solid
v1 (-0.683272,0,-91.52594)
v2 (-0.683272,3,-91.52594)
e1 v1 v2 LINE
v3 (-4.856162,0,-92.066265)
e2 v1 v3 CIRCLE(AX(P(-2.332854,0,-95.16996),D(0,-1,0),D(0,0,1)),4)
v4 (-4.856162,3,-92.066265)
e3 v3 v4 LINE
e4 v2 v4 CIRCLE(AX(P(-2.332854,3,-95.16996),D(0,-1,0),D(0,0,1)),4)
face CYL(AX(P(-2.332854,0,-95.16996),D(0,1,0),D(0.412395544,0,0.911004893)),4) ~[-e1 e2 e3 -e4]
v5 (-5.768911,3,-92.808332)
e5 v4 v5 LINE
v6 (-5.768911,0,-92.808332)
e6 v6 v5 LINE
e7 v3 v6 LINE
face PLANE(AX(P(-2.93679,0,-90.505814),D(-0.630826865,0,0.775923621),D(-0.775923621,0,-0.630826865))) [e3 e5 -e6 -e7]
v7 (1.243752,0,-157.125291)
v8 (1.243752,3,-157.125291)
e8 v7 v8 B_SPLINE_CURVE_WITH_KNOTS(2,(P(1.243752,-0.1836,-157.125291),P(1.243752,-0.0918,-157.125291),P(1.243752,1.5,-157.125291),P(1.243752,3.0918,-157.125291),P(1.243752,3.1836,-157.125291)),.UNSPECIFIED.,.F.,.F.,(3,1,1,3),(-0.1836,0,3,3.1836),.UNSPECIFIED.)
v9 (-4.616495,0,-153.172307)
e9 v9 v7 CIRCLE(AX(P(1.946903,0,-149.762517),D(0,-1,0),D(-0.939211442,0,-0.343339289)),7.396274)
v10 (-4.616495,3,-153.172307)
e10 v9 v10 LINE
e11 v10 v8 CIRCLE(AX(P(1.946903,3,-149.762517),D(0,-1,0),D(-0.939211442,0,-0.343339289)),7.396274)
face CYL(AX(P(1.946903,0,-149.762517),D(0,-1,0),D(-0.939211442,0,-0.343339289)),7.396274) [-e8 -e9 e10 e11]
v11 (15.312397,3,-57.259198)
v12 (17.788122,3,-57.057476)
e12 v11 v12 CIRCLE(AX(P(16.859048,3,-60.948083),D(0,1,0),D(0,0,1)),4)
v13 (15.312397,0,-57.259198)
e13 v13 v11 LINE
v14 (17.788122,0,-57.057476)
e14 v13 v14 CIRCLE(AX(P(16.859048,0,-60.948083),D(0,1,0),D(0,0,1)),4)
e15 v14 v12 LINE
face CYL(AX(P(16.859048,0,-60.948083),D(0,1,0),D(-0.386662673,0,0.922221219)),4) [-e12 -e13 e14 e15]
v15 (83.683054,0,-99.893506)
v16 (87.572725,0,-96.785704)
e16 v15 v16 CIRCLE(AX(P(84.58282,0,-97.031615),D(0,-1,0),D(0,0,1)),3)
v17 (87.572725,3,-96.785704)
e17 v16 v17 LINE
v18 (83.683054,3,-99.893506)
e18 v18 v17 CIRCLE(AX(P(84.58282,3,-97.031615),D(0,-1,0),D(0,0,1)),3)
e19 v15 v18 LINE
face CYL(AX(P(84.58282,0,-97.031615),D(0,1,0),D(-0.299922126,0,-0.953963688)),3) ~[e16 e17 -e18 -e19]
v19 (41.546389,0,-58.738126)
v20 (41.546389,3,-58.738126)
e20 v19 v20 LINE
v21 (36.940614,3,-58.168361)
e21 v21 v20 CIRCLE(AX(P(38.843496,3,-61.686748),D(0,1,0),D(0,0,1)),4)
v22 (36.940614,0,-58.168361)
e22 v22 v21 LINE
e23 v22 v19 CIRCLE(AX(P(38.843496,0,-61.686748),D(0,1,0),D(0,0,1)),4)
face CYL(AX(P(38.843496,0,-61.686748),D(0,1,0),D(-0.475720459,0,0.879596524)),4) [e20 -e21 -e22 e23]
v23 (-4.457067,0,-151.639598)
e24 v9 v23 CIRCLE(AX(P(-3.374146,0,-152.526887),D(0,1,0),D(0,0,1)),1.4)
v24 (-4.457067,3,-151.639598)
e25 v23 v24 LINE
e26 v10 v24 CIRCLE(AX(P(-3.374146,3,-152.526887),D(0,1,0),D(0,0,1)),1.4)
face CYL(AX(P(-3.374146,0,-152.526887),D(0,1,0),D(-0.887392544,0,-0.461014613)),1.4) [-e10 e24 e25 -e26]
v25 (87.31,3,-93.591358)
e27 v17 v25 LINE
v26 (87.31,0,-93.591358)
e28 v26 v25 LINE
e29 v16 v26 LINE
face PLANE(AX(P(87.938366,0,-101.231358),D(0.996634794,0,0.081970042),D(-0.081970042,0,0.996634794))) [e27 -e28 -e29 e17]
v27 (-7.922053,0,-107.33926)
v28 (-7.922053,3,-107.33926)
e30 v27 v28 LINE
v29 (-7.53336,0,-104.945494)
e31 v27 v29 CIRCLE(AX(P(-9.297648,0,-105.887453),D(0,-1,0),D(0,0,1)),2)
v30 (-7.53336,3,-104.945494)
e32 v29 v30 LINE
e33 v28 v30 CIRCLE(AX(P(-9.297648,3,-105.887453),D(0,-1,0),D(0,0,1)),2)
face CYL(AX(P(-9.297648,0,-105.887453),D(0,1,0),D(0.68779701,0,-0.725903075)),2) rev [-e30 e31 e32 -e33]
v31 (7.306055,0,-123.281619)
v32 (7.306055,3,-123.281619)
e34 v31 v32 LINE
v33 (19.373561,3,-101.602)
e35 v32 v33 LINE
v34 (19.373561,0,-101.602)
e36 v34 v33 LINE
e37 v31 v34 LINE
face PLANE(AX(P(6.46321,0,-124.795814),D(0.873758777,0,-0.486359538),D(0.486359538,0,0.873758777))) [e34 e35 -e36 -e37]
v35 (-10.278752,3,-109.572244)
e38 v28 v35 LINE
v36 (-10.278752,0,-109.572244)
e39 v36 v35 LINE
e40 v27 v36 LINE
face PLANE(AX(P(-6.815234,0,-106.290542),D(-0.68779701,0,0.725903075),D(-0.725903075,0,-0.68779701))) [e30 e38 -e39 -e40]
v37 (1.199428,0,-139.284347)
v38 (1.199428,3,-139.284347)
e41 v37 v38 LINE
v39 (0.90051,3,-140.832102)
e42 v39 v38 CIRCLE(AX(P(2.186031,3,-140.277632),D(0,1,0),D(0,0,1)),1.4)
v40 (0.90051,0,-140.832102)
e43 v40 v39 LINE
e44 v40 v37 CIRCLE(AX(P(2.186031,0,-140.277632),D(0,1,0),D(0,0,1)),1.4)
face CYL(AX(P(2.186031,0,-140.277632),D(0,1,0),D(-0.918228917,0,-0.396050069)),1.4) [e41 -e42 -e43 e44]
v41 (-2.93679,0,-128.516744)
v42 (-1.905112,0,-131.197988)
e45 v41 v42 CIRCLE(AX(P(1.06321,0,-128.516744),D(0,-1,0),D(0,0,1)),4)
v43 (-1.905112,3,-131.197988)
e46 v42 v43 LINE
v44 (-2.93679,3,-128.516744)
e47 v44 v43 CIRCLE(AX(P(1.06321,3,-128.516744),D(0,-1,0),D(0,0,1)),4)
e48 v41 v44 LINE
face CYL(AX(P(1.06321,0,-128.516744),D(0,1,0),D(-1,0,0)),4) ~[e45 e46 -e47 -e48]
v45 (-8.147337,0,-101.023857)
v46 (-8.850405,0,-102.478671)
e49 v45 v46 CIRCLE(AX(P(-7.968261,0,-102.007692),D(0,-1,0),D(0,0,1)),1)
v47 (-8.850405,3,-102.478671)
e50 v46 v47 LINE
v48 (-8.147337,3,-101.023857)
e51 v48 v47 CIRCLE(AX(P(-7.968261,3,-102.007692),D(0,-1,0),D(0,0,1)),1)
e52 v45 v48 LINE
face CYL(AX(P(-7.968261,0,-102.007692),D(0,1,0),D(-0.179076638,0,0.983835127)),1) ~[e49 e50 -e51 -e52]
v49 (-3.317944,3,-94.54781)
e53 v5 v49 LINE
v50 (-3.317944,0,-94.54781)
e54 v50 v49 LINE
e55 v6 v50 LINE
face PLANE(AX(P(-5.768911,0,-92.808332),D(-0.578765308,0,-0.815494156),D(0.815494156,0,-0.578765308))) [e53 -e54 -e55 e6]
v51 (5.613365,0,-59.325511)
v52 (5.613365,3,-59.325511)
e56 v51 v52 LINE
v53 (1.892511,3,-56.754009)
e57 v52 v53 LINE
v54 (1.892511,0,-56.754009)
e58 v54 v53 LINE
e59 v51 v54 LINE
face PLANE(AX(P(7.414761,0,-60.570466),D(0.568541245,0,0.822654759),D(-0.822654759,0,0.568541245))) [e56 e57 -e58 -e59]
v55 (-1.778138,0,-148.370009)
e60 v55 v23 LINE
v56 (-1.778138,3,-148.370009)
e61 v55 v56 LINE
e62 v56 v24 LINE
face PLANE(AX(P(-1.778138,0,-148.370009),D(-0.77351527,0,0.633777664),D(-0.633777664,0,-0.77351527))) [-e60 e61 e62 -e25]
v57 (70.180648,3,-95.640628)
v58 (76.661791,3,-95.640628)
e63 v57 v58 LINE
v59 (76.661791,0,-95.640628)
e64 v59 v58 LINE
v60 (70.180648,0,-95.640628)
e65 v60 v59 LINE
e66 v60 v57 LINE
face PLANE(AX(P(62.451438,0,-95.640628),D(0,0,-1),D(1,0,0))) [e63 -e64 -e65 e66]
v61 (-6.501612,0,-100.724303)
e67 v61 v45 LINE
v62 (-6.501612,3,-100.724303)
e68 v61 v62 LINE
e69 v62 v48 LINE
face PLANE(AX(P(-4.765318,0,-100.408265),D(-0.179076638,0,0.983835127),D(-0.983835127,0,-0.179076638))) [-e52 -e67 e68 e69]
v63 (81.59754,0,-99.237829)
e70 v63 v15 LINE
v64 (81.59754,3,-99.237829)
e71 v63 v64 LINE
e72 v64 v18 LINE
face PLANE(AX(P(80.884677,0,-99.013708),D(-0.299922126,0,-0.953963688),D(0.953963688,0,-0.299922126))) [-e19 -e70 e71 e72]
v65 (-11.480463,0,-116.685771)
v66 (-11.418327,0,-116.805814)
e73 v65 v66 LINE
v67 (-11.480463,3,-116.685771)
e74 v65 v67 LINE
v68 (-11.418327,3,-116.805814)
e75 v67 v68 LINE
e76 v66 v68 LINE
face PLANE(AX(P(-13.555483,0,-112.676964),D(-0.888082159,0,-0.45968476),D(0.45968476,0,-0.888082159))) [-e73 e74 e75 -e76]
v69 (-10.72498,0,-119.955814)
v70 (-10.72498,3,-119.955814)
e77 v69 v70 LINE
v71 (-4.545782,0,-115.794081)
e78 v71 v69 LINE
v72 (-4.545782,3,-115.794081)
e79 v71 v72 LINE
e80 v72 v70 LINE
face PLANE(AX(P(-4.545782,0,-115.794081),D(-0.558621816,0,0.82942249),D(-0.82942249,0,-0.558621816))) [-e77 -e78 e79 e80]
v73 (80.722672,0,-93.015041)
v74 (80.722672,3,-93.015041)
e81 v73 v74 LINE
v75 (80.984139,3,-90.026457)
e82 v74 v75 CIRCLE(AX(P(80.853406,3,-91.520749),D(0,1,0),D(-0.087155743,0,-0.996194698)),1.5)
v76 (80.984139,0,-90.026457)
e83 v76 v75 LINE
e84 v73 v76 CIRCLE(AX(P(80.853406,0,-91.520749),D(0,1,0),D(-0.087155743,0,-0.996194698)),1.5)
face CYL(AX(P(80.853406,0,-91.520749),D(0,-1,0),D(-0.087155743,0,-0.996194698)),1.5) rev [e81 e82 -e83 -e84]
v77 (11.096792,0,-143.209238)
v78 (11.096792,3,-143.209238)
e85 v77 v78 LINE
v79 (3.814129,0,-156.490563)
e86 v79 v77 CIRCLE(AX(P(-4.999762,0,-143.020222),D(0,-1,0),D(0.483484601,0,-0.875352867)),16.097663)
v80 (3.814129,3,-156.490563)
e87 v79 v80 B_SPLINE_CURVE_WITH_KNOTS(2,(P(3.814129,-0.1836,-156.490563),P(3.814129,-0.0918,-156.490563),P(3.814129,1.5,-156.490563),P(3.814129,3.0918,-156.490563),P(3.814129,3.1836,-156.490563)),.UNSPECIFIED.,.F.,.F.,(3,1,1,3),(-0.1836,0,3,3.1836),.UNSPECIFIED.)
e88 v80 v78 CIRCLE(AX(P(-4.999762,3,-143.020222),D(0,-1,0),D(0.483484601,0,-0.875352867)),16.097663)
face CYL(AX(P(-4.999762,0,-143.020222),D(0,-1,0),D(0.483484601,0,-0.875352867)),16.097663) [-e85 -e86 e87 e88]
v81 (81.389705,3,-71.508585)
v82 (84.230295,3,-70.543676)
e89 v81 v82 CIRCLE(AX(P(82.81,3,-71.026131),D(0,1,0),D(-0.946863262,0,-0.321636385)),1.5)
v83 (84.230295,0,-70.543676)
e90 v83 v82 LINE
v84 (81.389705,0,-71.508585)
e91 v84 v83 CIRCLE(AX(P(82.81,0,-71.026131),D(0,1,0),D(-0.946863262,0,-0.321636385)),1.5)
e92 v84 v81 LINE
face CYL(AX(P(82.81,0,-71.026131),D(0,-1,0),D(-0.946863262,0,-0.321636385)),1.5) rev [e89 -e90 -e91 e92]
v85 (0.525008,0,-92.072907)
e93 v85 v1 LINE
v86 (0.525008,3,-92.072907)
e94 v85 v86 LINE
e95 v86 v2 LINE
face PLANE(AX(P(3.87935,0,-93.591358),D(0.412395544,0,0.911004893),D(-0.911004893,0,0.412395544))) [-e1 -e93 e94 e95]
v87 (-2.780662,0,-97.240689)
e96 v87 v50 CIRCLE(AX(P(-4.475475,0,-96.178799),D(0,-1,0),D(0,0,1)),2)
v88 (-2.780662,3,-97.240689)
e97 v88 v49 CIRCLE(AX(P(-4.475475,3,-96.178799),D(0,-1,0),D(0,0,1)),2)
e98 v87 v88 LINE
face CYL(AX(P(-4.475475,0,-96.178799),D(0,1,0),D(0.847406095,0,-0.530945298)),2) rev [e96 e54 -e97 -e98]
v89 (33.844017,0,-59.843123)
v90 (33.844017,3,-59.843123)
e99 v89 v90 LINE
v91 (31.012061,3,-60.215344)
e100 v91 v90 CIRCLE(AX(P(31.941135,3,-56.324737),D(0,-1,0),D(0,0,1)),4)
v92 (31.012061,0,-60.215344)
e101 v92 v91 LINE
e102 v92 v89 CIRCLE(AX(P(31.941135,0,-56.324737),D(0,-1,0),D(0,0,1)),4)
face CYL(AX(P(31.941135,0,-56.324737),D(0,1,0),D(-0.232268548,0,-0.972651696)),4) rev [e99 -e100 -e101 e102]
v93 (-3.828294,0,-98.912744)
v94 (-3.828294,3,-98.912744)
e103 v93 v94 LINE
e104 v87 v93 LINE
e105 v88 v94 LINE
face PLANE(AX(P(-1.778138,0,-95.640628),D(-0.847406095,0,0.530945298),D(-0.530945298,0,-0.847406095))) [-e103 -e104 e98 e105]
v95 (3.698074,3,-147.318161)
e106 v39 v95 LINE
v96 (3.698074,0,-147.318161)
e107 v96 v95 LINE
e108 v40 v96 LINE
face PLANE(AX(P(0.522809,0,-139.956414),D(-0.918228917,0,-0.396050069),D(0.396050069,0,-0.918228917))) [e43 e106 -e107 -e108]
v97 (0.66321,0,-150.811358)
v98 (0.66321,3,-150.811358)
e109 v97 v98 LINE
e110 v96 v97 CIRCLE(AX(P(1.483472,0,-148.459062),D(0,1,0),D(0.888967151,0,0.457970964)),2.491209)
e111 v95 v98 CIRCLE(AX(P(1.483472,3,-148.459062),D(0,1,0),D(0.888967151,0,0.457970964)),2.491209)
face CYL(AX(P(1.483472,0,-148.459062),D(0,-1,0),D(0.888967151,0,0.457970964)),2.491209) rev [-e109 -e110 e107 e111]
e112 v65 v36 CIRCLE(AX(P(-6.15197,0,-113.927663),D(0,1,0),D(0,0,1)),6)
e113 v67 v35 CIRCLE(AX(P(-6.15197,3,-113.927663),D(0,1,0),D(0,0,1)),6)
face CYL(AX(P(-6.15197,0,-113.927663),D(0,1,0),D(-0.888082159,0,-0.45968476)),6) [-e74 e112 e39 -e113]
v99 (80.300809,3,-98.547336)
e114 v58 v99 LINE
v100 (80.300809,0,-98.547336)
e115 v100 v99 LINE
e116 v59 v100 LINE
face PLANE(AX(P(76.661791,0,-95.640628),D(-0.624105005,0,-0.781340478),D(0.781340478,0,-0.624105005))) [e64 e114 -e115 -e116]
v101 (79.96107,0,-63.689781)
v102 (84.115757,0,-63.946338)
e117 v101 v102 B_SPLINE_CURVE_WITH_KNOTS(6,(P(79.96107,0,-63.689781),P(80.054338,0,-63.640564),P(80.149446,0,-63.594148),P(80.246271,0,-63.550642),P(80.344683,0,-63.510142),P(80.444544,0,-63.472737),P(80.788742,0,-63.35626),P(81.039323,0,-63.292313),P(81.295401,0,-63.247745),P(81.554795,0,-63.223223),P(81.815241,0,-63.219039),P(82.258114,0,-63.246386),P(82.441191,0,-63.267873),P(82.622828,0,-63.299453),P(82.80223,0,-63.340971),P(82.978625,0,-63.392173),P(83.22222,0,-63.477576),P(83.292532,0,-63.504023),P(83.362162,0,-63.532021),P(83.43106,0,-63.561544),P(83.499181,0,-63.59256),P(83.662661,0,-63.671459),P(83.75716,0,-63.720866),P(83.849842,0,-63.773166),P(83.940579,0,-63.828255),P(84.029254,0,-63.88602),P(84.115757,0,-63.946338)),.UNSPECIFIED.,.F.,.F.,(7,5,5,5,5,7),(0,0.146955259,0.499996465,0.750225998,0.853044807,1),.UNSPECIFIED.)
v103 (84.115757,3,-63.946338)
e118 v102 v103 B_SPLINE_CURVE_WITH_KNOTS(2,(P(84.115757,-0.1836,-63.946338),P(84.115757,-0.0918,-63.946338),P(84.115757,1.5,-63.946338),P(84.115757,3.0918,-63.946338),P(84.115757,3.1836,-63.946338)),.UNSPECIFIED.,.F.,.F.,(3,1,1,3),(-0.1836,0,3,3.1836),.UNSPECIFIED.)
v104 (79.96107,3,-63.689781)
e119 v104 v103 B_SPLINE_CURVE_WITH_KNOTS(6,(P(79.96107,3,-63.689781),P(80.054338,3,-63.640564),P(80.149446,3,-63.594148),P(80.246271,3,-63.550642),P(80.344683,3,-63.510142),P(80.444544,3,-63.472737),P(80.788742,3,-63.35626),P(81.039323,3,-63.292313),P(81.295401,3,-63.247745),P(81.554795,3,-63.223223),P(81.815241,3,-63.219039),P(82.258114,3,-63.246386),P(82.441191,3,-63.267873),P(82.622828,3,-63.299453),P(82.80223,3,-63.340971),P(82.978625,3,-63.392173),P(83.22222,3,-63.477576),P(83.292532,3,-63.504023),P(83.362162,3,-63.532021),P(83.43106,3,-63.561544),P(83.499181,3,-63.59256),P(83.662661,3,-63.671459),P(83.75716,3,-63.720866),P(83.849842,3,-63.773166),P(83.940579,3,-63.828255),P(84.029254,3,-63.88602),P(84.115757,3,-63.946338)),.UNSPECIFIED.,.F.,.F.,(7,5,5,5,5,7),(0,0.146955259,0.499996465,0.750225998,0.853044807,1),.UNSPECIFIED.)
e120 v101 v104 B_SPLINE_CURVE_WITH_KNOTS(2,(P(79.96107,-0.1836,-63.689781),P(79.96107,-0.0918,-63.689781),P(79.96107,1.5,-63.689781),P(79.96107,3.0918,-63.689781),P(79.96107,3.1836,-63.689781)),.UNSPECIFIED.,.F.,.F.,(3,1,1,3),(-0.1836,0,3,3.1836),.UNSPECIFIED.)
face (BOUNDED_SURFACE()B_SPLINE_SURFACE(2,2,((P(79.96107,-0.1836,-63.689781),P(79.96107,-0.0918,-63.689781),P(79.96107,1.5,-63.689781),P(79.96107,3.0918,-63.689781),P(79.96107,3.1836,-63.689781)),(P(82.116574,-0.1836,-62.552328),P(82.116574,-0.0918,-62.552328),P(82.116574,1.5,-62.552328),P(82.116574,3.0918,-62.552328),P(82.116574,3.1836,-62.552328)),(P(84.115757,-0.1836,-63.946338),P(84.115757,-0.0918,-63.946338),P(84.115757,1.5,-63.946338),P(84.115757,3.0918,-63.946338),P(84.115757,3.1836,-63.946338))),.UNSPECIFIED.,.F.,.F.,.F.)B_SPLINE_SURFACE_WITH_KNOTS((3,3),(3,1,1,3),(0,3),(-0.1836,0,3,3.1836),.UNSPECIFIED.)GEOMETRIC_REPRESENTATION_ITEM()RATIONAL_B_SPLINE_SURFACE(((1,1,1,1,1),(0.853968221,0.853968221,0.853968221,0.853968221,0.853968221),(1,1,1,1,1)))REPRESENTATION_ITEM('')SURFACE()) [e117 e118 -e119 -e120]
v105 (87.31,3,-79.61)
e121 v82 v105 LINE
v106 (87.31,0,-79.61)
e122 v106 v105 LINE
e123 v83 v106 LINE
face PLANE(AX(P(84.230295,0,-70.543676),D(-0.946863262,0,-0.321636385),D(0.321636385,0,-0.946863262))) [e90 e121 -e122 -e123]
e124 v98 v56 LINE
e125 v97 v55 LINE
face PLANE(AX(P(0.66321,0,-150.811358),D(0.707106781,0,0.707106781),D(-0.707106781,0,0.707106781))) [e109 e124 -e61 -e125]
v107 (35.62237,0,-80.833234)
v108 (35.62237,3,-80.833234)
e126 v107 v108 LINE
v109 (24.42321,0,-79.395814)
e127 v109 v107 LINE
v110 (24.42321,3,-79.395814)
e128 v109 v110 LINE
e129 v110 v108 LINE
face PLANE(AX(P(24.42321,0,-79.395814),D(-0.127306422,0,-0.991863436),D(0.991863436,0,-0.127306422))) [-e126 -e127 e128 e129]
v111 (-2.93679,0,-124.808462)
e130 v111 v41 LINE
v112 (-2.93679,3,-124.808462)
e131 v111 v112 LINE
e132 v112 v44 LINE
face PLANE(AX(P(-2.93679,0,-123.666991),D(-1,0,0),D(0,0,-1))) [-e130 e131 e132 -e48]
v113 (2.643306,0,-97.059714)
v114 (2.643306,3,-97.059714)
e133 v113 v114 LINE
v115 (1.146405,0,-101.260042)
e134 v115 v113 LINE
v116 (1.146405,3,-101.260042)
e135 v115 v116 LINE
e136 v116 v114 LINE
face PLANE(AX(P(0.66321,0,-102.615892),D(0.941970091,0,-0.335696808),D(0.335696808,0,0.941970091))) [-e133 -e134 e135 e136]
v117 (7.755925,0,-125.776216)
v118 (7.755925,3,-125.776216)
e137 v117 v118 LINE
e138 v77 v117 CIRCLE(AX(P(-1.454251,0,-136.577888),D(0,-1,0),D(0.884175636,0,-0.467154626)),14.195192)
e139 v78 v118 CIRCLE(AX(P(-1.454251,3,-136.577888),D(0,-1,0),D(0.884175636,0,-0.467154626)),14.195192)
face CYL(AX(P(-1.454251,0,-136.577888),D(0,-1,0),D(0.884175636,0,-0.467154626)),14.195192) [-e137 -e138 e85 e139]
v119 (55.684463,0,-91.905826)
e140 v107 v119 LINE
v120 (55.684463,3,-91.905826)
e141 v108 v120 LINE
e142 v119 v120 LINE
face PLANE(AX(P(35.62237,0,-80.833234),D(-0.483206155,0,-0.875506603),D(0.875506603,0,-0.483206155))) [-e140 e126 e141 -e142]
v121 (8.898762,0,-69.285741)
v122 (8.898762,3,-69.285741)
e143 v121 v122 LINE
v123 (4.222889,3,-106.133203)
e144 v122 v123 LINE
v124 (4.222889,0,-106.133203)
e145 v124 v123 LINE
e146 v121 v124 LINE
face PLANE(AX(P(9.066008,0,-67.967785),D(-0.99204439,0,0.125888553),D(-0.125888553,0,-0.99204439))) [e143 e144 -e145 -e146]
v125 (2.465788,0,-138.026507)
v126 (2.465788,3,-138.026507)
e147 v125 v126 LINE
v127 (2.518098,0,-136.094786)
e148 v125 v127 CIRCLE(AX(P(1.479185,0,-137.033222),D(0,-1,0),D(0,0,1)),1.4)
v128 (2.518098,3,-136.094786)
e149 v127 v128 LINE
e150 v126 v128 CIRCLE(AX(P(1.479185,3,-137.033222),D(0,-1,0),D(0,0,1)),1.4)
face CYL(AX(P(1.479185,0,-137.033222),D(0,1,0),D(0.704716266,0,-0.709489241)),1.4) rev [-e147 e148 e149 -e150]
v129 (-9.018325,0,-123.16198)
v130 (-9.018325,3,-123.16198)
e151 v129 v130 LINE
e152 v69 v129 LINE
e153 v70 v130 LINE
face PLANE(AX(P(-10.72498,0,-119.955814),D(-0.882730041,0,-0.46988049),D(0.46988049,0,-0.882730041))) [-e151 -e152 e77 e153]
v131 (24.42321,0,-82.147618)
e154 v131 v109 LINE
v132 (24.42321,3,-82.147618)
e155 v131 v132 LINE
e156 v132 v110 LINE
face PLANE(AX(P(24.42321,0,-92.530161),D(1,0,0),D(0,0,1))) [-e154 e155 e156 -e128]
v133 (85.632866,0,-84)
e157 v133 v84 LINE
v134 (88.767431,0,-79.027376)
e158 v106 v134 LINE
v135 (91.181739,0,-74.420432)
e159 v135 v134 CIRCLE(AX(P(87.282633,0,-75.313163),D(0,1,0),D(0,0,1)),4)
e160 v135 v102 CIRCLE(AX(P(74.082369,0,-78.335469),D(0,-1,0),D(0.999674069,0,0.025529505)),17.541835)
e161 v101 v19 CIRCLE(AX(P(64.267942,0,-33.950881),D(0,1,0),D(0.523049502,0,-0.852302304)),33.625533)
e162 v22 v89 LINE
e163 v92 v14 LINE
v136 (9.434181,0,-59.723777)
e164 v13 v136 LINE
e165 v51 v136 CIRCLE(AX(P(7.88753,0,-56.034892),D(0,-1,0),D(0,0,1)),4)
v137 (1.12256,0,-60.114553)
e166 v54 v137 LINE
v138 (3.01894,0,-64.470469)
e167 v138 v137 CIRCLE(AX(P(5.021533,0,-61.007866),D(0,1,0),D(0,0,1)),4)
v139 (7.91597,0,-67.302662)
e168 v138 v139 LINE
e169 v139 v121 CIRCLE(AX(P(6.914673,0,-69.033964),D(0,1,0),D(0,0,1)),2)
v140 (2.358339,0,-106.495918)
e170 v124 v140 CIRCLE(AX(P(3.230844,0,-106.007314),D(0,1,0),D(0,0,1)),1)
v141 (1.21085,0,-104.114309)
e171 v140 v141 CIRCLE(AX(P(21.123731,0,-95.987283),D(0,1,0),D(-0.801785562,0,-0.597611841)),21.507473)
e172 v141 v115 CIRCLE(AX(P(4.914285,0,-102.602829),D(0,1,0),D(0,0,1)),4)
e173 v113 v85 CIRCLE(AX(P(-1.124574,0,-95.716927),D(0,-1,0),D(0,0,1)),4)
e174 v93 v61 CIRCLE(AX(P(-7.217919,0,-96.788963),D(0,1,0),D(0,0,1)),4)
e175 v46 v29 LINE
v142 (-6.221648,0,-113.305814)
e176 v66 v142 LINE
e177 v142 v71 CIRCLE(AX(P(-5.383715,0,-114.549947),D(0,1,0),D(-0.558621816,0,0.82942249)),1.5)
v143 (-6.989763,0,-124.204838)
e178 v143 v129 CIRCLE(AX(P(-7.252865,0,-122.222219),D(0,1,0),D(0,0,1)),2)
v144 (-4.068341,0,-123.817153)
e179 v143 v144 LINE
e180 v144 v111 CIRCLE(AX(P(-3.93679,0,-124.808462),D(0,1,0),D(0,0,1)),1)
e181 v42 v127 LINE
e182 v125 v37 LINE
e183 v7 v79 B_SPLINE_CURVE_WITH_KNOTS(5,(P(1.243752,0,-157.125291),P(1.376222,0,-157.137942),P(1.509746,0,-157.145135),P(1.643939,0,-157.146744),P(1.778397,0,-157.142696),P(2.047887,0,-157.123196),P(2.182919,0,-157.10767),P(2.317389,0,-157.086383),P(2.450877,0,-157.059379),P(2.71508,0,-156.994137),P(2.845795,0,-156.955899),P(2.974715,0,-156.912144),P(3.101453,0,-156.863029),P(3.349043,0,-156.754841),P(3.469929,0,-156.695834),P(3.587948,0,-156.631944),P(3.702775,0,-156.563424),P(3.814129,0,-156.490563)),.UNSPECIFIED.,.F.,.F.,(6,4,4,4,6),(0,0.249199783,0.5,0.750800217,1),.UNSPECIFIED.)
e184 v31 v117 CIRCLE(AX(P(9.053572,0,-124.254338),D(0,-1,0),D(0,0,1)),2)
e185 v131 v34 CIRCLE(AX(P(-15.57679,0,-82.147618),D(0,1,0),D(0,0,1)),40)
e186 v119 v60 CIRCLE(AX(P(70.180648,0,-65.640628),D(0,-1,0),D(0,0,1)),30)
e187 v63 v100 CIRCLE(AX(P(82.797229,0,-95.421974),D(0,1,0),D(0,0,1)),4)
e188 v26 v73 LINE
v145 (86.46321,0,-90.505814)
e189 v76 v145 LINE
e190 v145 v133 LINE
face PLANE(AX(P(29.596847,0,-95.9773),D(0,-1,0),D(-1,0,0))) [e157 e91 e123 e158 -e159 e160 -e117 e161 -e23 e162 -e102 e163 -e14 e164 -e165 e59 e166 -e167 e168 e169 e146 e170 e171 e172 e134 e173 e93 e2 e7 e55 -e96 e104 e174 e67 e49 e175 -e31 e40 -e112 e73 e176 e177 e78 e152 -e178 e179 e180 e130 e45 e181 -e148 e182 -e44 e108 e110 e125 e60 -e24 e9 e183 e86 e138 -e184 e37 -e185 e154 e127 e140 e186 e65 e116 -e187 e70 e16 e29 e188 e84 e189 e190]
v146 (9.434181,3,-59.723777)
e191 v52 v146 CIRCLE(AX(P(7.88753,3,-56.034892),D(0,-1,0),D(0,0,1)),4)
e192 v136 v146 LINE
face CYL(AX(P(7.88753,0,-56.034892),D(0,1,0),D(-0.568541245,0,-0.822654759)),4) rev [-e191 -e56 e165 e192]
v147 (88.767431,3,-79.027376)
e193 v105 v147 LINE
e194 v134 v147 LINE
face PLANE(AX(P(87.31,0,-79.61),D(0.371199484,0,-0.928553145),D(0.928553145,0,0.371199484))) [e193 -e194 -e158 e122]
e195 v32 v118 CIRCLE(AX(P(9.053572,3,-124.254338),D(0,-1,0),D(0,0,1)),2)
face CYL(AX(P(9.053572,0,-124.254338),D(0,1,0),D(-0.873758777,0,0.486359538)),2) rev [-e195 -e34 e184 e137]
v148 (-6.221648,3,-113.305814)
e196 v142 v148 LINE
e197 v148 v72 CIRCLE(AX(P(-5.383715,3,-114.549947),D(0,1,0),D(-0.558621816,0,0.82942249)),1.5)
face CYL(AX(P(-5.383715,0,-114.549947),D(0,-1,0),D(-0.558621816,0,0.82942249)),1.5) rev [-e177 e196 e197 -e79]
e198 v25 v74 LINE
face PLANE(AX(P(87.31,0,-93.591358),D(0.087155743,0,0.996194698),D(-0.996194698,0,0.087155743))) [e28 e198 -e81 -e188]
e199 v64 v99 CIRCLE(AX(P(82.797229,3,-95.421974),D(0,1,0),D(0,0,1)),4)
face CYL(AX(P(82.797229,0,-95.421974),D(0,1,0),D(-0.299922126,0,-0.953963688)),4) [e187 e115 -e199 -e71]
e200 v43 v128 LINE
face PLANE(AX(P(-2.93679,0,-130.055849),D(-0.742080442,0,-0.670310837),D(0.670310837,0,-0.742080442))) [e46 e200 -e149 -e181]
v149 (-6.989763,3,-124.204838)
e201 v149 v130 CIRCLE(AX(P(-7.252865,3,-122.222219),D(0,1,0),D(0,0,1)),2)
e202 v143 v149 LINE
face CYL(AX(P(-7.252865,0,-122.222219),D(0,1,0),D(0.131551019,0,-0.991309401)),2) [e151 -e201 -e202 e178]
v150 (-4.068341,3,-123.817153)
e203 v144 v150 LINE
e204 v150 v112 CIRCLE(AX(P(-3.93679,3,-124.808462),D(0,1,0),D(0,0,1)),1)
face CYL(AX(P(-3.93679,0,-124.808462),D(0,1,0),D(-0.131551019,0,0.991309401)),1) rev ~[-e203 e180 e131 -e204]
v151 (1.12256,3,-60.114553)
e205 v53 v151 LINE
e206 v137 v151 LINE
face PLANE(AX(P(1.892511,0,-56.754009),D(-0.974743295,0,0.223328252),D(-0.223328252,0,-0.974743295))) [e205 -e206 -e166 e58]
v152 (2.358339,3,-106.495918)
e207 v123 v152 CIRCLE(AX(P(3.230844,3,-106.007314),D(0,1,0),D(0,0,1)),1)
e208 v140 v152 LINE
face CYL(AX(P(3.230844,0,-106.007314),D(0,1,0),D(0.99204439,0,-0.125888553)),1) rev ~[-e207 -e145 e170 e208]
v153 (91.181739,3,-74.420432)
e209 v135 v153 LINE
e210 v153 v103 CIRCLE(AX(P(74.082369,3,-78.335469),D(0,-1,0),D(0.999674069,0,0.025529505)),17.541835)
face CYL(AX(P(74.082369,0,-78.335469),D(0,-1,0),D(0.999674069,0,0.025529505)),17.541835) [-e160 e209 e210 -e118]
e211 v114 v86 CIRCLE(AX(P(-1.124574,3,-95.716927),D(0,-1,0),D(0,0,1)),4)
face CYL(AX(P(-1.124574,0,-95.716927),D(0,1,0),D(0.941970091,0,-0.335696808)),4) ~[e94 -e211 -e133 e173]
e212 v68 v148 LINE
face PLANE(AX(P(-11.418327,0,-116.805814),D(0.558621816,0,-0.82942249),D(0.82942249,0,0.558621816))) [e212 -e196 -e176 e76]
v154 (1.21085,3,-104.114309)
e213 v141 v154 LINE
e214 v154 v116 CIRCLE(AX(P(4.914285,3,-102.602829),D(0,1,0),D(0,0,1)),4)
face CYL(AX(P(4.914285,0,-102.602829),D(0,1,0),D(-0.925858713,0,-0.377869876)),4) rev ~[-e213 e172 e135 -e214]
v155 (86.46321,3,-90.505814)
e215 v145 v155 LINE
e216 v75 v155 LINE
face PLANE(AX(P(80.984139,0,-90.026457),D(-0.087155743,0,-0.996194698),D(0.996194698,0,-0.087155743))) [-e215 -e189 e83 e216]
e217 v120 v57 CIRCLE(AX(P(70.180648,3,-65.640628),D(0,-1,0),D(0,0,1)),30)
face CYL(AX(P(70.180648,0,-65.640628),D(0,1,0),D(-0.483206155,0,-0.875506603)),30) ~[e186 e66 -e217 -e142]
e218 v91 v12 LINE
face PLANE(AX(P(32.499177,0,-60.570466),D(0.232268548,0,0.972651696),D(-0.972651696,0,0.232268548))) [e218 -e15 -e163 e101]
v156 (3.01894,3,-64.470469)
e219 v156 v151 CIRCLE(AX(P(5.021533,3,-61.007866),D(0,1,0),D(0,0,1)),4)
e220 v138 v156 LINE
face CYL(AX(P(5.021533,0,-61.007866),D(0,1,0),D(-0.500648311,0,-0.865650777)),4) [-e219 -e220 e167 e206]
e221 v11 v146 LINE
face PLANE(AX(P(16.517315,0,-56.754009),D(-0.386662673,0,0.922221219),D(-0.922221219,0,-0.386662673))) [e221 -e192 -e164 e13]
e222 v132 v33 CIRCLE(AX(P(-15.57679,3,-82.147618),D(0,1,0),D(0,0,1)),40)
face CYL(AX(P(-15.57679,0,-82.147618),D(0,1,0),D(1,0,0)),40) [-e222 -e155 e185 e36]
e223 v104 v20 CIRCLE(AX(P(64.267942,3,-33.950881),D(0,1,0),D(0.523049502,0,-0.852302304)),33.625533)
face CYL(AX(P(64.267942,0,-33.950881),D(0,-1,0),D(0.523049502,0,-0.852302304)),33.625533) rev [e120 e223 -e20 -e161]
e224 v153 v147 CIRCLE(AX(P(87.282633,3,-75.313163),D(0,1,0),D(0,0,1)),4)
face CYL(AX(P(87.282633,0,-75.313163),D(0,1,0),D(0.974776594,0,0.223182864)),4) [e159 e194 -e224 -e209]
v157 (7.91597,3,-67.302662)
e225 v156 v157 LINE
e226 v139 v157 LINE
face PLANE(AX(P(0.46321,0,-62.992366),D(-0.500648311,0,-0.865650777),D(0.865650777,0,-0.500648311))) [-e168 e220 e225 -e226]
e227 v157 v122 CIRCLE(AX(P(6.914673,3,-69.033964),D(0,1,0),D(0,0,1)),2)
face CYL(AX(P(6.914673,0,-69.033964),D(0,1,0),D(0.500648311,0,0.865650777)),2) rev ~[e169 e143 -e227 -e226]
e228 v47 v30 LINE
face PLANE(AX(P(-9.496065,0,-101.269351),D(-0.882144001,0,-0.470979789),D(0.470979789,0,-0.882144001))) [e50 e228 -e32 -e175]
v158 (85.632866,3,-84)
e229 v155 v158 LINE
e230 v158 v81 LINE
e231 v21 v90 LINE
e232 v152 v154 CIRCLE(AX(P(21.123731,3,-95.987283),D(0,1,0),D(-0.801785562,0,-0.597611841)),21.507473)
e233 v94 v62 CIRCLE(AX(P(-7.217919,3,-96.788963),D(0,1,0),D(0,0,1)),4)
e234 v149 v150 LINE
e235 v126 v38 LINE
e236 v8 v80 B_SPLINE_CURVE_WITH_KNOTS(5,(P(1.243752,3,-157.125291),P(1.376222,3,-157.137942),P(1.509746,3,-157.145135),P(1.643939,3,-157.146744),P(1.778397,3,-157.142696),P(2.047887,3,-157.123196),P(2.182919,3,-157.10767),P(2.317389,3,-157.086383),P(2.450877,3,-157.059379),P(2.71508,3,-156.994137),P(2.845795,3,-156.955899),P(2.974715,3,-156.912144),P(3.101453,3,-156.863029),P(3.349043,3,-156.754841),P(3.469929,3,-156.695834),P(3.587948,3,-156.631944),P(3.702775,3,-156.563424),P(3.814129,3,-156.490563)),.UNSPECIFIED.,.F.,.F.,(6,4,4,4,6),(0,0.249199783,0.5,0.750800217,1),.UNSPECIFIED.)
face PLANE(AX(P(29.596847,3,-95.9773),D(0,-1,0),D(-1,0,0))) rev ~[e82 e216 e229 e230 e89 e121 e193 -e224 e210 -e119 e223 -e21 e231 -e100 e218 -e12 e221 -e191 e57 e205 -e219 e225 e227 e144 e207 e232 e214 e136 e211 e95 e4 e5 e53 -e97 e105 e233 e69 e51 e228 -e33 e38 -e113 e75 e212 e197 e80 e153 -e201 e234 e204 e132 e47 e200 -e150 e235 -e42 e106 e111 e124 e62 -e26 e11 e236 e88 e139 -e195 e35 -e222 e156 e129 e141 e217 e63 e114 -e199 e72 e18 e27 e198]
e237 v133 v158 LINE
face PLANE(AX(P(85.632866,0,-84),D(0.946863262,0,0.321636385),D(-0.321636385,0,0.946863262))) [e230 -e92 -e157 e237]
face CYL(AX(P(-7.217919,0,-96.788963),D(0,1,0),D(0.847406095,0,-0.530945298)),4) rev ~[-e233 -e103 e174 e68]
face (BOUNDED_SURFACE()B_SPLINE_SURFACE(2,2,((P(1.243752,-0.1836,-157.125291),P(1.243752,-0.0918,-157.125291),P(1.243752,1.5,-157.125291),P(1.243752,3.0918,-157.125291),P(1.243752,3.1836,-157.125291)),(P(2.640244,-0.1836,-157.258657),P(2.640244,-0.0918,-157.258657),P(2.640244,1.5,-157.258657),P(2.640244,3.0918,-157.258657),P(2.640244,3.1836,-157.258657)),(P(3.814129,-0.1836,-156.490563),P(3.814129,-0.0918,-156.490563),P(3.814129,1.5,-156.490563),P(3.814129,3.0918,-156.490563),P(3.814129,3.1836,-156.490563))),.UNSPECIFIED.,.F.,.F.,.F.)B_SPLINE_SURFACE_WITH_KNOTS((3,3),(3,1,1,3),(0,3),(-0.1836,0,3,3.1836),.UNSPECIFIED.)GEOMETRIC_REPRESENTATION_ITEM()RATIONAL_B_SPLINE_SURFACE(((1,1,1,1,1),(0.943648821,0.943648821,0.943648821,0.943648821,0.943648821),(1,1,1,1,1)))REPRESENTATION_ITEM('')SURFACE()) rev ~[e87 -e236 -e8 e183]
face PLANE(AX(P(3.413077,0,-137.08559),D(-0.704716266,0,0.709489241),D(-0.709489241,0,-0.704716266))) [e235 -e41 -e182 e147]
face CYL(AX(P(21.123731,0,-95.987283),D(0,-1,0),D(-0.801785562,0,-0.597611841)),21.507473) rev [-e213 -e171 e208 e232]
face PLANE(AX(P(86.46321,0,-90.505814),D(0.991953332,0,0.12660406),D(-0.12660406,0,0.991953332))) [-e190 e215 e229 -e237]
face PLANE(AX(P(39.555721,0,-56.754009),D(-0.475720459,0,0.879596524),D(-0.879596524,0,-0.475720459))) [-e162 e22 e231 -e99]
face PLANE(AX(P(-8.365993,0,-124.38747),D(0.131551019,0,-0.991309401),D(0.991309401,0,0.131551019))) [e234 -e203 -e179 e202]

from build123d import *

# Parameters (mm, degrees)
BOSS_EXTRUDE2_DEPTH = 3
FILLET1_R           = 1
FILLET2_R           = 4
FILLET3_R           = 40
FILLET4_R           = 2
FILLET5_R           = 1.4
FILLET6_R           = 30
FILLET7_R           = 3
FILLET8_R           = 6


with BuildPart() as part:
    # Sketch4 → Boss-Extrude2 (new body)
    with BuildSketch(Plane(origin=(0, 0, 0), x_dir=(1, 0, 0), z_dir=(0, 1, 0))):
        with BuildLine():
            Line((87.31, 79.61), (91.618486592, 77.887634392))
            ThreePointArc((91.618486592, 77.887634392), (88.863922918, 68.889748023), (81.855760182, 62.61))
            ThreePointArc((81.855760182, 62.61), (59.656820918, 67.258748235), (39.555721251, 56.754008505))
            Line((39.555721251, 56.754008505), (32.499176634, 60.570465889))
            Line((32.499176634, 60.570465889), (16.517315238, 56.754008505))
            Line((16.517315238, 56.754008505), (7.414760931, 60.570465889))
            Line((7.414760931, 60.570465889), (1.892511031, 56.754008505))
            Line((1.892511031, 56.754008505), (0.46321022, 62.992365596))
            Line((0.46321022, 62.992365596), (9.066007765, 67.967785451))
            Line((9.066007765, 67.967785451), (3.879350061, 108.84040305))
            ThreePointArc((3.879350061, 108.84040305), (2.01611376, 105.85998951), (0.66321022, 102.615892348))
            Line((0.66321022, 102.615892348), (3.879350061, 93.591357519))
            Line((3.879350061, 93.591357519), (-2.93678978, 90.505813501))
            Line((-2.93678978, 90.505813501), (-5.768910997, 92.808331559))
            Line((-5.768910997, 92.808331559), (-1.778138145, 95.640627614))
            Line((-1.778138145, 95.640627614), (-4.765318246, 100.408264948))
            Line((-4.765318246, 100.408264948), (-9.496065378, 101.269350579))
            Line((-9.496065378, 101.269350579), (-6.815233616, 106.290541956))
            Line((-6.815233616, 106.290541956), (-13.555482626, 112.676963609))
            Line((-13.555482626, 112.676963609), (-11.418327461, 116.805813501))
            Line((-11.418327461, 116.805813501), (-6.221647651, 113.305813501))
            ThreePointArc((-6.221647651, 113.305813501), (-4.139581192, 113.712014511), (-4.545782202, 115.79408097))
            Line((-4.545782202, 115.79408097), (-10.724979751, 119.955813501))
            Line((-10.724979751, 119.955813501), (-8.365992616, 124.387469749))
            Line((-8.365992616, 124.387469749), (-2.93678978, 123.666991194))
            Line((-2.93678978, 123.666991194), (-2.93678978, 130.055848545))
            Line((-2.93678978, 130.055848545), (3.413077147, 137.08559026))
            Line((3.413077147, 137.08559026), (0.522809133, 139.95641446))
            Line((0.522809133, 139.95641446), (3.698074275, 147.318161123))
            ThreePointArc((3.698074275, 147.318161123), (3.364070449, 150.092913281), (0.66321022, 150.811357519))
            Line((0.66321022, 150.811357519), (-1.778138145, 148.370009154))
            Line((-1.778138145, 148.370009154), (-4.999762187, 152.301948586))
            ThreePointArc((-4.999762187, 152.301948586), (-1.941119995, 156.054428227), (2.78321022, 157.111357519))
            ThreePointArc((2.78321022, 157.111357519), (8.815996079, 151.282158066), (11.096791577, 143.209237691))
            ThreePointArc((11.096791577, 143.209237691), (12.311774437, 133.113784868), (6.46321022, 124.795813501))
            Line((6.46321022, 124.795813501), (24.42321022, 92.530161433))
            Line((24.42321022, 92.530161433), (24.42321022, 79.395813501))
            Line((24.42321022, 79.395813501), (35.622369927, 80.833234121))
            Line((35.622369927, 80.833234121), (62.451437904, 95.640627614))
            Line((62.451437904, 95.640627614), (76.661791259, 95.640627614))
            Line((76.661791259, 95.640627614), (80.884676882, 99.013707758))
            Line((80.884676882, 99.013707758), (87.938365698, 101.231357519))
            Line((87.938365698, 101.231357519), (87.31, 93.591357519))
            Line((87.31, 93.591357519), (80.722672152, 93.01504101))
            ThreePointArc((80.722672152, 93.01504101), (79.359113719, 91.390015348), (80.984139381, 90.026456915))
            Line((80.984139381, 90.026456915), (86.46321022, 90.505813501))
            Line((86.46321022, 90.505813501), (85.632866314, 84))
            Line((85.632866314, 84), (81.389705108, 71.508585308))
            ThreePointArc((81.389705108, 71.508585308), (82.327545423, 69.605835839), (84.230294892, 70.543676154))
            Line((84.230294892, 70.543676154), (87.31, 79.61))
        make_face()
    extrude(amount=BOSS_EXTRUDE2_DEPTH)

    # Fillet1
    fillet1_edges = [part.edges().sort_by_distance(p)[0] for p in [
        (3.879350061, 1.5, -108.84040305),
        (-9.496065378, 1.5, -101.269350579),
        (-2.93678978, 1.5, -123.666991194),
    ]]
    fillet(fillet1_edges, radius=FILLET1_R)

    # Fillet2
    fillet2_edges = [part.edges().sort_by_distance(p)[0] for p in [
        (39.555721251, 1.5, -56.754008505),
        (32.499176634, 1.5, -60.570465889),
        (16.517315238, 1.5, -56.754008505),
        (7.414760931, 1.5, -60.570465889),
        (0.46321022, 1.5, -62.992365596),
        (0.66321022, 1.5, -102.615892348),
        (3.879350061, 1.5, -93.591357519),
        (-2.93678978, 1.5, -90.505813501),
        (-4.765318246, 1.5, -100.408264948),
        (-2.93678978, 1.5, -130.055848545),
        (2.78321022, 1.5, -157.111357519),
        (80.884676882, 1.5, -99.013707758),
        (91.618486592, 1.5, -77.887634392),
        (81.855760182, 1.5, -62.61),
    ]]
    fillet(fillet2_edges, radius=FILLET2_R)

    # Fillet3
    fillet3_edges = [part.edges().sort_by_distance(p)[0] for p in [
        (24.42321022, 1.5, -92.530161433),
    ]]
    fillet(fillet3_edges, radius=FILLET3_R)

    # Fillet4
    fillet4_edges = [part.edges().sort_by_distance(p)[0] for p in [
        (9.066007765, 1.5, -67.967785451),
        (-1.778138145, 1.5, -95.640627614),
        (-6.815233616, 1.5, -106.290541956),
        (-8.365992616, 1.5, -124.387469749),
        (6.46321022, 1.5, -124.795813501),
    ]]
    fillet(fillet4_edges, radius=FILLET4_R)

    # Fillet5
    fillet5_edges = [part.edges().sort_by_distance(p)[0] for p in [
        (3.413077147, 1.5, -137.08559026),
        (0.522809133, 1.5, -139.95641446),
        (-4.999762187, 1.5, -152.301948586),
    ]]
    fillet(fillet5_edges, radius=FILLET5_R)

    # Fillet6
    fillet6_edges = [part.edges().sort_by_distance(p)[0] for p in [
        (62.451437904, 1.5, -95.640627614),
    ]]
    fillet(fillet6_edges, radius=FILLET6_R)

    # Fillet7
    fillet7_edges = [part.edges().sort_by_distance(p)[0] for p in [
        (87.938365698, 1.5, -101.231357519),
    ]]
    fillet(fillet7_edges, radius=FILLET7_R)

    # Fillet8
    fillet8_edges = [part.edges().sort_by_distance(p)[0] for p in [
        (-13.555482626, 1.5, -112.676963609),
    ]]
    fillet(fillet8_edges, radius=FILLET8_R)


solid = part.part
